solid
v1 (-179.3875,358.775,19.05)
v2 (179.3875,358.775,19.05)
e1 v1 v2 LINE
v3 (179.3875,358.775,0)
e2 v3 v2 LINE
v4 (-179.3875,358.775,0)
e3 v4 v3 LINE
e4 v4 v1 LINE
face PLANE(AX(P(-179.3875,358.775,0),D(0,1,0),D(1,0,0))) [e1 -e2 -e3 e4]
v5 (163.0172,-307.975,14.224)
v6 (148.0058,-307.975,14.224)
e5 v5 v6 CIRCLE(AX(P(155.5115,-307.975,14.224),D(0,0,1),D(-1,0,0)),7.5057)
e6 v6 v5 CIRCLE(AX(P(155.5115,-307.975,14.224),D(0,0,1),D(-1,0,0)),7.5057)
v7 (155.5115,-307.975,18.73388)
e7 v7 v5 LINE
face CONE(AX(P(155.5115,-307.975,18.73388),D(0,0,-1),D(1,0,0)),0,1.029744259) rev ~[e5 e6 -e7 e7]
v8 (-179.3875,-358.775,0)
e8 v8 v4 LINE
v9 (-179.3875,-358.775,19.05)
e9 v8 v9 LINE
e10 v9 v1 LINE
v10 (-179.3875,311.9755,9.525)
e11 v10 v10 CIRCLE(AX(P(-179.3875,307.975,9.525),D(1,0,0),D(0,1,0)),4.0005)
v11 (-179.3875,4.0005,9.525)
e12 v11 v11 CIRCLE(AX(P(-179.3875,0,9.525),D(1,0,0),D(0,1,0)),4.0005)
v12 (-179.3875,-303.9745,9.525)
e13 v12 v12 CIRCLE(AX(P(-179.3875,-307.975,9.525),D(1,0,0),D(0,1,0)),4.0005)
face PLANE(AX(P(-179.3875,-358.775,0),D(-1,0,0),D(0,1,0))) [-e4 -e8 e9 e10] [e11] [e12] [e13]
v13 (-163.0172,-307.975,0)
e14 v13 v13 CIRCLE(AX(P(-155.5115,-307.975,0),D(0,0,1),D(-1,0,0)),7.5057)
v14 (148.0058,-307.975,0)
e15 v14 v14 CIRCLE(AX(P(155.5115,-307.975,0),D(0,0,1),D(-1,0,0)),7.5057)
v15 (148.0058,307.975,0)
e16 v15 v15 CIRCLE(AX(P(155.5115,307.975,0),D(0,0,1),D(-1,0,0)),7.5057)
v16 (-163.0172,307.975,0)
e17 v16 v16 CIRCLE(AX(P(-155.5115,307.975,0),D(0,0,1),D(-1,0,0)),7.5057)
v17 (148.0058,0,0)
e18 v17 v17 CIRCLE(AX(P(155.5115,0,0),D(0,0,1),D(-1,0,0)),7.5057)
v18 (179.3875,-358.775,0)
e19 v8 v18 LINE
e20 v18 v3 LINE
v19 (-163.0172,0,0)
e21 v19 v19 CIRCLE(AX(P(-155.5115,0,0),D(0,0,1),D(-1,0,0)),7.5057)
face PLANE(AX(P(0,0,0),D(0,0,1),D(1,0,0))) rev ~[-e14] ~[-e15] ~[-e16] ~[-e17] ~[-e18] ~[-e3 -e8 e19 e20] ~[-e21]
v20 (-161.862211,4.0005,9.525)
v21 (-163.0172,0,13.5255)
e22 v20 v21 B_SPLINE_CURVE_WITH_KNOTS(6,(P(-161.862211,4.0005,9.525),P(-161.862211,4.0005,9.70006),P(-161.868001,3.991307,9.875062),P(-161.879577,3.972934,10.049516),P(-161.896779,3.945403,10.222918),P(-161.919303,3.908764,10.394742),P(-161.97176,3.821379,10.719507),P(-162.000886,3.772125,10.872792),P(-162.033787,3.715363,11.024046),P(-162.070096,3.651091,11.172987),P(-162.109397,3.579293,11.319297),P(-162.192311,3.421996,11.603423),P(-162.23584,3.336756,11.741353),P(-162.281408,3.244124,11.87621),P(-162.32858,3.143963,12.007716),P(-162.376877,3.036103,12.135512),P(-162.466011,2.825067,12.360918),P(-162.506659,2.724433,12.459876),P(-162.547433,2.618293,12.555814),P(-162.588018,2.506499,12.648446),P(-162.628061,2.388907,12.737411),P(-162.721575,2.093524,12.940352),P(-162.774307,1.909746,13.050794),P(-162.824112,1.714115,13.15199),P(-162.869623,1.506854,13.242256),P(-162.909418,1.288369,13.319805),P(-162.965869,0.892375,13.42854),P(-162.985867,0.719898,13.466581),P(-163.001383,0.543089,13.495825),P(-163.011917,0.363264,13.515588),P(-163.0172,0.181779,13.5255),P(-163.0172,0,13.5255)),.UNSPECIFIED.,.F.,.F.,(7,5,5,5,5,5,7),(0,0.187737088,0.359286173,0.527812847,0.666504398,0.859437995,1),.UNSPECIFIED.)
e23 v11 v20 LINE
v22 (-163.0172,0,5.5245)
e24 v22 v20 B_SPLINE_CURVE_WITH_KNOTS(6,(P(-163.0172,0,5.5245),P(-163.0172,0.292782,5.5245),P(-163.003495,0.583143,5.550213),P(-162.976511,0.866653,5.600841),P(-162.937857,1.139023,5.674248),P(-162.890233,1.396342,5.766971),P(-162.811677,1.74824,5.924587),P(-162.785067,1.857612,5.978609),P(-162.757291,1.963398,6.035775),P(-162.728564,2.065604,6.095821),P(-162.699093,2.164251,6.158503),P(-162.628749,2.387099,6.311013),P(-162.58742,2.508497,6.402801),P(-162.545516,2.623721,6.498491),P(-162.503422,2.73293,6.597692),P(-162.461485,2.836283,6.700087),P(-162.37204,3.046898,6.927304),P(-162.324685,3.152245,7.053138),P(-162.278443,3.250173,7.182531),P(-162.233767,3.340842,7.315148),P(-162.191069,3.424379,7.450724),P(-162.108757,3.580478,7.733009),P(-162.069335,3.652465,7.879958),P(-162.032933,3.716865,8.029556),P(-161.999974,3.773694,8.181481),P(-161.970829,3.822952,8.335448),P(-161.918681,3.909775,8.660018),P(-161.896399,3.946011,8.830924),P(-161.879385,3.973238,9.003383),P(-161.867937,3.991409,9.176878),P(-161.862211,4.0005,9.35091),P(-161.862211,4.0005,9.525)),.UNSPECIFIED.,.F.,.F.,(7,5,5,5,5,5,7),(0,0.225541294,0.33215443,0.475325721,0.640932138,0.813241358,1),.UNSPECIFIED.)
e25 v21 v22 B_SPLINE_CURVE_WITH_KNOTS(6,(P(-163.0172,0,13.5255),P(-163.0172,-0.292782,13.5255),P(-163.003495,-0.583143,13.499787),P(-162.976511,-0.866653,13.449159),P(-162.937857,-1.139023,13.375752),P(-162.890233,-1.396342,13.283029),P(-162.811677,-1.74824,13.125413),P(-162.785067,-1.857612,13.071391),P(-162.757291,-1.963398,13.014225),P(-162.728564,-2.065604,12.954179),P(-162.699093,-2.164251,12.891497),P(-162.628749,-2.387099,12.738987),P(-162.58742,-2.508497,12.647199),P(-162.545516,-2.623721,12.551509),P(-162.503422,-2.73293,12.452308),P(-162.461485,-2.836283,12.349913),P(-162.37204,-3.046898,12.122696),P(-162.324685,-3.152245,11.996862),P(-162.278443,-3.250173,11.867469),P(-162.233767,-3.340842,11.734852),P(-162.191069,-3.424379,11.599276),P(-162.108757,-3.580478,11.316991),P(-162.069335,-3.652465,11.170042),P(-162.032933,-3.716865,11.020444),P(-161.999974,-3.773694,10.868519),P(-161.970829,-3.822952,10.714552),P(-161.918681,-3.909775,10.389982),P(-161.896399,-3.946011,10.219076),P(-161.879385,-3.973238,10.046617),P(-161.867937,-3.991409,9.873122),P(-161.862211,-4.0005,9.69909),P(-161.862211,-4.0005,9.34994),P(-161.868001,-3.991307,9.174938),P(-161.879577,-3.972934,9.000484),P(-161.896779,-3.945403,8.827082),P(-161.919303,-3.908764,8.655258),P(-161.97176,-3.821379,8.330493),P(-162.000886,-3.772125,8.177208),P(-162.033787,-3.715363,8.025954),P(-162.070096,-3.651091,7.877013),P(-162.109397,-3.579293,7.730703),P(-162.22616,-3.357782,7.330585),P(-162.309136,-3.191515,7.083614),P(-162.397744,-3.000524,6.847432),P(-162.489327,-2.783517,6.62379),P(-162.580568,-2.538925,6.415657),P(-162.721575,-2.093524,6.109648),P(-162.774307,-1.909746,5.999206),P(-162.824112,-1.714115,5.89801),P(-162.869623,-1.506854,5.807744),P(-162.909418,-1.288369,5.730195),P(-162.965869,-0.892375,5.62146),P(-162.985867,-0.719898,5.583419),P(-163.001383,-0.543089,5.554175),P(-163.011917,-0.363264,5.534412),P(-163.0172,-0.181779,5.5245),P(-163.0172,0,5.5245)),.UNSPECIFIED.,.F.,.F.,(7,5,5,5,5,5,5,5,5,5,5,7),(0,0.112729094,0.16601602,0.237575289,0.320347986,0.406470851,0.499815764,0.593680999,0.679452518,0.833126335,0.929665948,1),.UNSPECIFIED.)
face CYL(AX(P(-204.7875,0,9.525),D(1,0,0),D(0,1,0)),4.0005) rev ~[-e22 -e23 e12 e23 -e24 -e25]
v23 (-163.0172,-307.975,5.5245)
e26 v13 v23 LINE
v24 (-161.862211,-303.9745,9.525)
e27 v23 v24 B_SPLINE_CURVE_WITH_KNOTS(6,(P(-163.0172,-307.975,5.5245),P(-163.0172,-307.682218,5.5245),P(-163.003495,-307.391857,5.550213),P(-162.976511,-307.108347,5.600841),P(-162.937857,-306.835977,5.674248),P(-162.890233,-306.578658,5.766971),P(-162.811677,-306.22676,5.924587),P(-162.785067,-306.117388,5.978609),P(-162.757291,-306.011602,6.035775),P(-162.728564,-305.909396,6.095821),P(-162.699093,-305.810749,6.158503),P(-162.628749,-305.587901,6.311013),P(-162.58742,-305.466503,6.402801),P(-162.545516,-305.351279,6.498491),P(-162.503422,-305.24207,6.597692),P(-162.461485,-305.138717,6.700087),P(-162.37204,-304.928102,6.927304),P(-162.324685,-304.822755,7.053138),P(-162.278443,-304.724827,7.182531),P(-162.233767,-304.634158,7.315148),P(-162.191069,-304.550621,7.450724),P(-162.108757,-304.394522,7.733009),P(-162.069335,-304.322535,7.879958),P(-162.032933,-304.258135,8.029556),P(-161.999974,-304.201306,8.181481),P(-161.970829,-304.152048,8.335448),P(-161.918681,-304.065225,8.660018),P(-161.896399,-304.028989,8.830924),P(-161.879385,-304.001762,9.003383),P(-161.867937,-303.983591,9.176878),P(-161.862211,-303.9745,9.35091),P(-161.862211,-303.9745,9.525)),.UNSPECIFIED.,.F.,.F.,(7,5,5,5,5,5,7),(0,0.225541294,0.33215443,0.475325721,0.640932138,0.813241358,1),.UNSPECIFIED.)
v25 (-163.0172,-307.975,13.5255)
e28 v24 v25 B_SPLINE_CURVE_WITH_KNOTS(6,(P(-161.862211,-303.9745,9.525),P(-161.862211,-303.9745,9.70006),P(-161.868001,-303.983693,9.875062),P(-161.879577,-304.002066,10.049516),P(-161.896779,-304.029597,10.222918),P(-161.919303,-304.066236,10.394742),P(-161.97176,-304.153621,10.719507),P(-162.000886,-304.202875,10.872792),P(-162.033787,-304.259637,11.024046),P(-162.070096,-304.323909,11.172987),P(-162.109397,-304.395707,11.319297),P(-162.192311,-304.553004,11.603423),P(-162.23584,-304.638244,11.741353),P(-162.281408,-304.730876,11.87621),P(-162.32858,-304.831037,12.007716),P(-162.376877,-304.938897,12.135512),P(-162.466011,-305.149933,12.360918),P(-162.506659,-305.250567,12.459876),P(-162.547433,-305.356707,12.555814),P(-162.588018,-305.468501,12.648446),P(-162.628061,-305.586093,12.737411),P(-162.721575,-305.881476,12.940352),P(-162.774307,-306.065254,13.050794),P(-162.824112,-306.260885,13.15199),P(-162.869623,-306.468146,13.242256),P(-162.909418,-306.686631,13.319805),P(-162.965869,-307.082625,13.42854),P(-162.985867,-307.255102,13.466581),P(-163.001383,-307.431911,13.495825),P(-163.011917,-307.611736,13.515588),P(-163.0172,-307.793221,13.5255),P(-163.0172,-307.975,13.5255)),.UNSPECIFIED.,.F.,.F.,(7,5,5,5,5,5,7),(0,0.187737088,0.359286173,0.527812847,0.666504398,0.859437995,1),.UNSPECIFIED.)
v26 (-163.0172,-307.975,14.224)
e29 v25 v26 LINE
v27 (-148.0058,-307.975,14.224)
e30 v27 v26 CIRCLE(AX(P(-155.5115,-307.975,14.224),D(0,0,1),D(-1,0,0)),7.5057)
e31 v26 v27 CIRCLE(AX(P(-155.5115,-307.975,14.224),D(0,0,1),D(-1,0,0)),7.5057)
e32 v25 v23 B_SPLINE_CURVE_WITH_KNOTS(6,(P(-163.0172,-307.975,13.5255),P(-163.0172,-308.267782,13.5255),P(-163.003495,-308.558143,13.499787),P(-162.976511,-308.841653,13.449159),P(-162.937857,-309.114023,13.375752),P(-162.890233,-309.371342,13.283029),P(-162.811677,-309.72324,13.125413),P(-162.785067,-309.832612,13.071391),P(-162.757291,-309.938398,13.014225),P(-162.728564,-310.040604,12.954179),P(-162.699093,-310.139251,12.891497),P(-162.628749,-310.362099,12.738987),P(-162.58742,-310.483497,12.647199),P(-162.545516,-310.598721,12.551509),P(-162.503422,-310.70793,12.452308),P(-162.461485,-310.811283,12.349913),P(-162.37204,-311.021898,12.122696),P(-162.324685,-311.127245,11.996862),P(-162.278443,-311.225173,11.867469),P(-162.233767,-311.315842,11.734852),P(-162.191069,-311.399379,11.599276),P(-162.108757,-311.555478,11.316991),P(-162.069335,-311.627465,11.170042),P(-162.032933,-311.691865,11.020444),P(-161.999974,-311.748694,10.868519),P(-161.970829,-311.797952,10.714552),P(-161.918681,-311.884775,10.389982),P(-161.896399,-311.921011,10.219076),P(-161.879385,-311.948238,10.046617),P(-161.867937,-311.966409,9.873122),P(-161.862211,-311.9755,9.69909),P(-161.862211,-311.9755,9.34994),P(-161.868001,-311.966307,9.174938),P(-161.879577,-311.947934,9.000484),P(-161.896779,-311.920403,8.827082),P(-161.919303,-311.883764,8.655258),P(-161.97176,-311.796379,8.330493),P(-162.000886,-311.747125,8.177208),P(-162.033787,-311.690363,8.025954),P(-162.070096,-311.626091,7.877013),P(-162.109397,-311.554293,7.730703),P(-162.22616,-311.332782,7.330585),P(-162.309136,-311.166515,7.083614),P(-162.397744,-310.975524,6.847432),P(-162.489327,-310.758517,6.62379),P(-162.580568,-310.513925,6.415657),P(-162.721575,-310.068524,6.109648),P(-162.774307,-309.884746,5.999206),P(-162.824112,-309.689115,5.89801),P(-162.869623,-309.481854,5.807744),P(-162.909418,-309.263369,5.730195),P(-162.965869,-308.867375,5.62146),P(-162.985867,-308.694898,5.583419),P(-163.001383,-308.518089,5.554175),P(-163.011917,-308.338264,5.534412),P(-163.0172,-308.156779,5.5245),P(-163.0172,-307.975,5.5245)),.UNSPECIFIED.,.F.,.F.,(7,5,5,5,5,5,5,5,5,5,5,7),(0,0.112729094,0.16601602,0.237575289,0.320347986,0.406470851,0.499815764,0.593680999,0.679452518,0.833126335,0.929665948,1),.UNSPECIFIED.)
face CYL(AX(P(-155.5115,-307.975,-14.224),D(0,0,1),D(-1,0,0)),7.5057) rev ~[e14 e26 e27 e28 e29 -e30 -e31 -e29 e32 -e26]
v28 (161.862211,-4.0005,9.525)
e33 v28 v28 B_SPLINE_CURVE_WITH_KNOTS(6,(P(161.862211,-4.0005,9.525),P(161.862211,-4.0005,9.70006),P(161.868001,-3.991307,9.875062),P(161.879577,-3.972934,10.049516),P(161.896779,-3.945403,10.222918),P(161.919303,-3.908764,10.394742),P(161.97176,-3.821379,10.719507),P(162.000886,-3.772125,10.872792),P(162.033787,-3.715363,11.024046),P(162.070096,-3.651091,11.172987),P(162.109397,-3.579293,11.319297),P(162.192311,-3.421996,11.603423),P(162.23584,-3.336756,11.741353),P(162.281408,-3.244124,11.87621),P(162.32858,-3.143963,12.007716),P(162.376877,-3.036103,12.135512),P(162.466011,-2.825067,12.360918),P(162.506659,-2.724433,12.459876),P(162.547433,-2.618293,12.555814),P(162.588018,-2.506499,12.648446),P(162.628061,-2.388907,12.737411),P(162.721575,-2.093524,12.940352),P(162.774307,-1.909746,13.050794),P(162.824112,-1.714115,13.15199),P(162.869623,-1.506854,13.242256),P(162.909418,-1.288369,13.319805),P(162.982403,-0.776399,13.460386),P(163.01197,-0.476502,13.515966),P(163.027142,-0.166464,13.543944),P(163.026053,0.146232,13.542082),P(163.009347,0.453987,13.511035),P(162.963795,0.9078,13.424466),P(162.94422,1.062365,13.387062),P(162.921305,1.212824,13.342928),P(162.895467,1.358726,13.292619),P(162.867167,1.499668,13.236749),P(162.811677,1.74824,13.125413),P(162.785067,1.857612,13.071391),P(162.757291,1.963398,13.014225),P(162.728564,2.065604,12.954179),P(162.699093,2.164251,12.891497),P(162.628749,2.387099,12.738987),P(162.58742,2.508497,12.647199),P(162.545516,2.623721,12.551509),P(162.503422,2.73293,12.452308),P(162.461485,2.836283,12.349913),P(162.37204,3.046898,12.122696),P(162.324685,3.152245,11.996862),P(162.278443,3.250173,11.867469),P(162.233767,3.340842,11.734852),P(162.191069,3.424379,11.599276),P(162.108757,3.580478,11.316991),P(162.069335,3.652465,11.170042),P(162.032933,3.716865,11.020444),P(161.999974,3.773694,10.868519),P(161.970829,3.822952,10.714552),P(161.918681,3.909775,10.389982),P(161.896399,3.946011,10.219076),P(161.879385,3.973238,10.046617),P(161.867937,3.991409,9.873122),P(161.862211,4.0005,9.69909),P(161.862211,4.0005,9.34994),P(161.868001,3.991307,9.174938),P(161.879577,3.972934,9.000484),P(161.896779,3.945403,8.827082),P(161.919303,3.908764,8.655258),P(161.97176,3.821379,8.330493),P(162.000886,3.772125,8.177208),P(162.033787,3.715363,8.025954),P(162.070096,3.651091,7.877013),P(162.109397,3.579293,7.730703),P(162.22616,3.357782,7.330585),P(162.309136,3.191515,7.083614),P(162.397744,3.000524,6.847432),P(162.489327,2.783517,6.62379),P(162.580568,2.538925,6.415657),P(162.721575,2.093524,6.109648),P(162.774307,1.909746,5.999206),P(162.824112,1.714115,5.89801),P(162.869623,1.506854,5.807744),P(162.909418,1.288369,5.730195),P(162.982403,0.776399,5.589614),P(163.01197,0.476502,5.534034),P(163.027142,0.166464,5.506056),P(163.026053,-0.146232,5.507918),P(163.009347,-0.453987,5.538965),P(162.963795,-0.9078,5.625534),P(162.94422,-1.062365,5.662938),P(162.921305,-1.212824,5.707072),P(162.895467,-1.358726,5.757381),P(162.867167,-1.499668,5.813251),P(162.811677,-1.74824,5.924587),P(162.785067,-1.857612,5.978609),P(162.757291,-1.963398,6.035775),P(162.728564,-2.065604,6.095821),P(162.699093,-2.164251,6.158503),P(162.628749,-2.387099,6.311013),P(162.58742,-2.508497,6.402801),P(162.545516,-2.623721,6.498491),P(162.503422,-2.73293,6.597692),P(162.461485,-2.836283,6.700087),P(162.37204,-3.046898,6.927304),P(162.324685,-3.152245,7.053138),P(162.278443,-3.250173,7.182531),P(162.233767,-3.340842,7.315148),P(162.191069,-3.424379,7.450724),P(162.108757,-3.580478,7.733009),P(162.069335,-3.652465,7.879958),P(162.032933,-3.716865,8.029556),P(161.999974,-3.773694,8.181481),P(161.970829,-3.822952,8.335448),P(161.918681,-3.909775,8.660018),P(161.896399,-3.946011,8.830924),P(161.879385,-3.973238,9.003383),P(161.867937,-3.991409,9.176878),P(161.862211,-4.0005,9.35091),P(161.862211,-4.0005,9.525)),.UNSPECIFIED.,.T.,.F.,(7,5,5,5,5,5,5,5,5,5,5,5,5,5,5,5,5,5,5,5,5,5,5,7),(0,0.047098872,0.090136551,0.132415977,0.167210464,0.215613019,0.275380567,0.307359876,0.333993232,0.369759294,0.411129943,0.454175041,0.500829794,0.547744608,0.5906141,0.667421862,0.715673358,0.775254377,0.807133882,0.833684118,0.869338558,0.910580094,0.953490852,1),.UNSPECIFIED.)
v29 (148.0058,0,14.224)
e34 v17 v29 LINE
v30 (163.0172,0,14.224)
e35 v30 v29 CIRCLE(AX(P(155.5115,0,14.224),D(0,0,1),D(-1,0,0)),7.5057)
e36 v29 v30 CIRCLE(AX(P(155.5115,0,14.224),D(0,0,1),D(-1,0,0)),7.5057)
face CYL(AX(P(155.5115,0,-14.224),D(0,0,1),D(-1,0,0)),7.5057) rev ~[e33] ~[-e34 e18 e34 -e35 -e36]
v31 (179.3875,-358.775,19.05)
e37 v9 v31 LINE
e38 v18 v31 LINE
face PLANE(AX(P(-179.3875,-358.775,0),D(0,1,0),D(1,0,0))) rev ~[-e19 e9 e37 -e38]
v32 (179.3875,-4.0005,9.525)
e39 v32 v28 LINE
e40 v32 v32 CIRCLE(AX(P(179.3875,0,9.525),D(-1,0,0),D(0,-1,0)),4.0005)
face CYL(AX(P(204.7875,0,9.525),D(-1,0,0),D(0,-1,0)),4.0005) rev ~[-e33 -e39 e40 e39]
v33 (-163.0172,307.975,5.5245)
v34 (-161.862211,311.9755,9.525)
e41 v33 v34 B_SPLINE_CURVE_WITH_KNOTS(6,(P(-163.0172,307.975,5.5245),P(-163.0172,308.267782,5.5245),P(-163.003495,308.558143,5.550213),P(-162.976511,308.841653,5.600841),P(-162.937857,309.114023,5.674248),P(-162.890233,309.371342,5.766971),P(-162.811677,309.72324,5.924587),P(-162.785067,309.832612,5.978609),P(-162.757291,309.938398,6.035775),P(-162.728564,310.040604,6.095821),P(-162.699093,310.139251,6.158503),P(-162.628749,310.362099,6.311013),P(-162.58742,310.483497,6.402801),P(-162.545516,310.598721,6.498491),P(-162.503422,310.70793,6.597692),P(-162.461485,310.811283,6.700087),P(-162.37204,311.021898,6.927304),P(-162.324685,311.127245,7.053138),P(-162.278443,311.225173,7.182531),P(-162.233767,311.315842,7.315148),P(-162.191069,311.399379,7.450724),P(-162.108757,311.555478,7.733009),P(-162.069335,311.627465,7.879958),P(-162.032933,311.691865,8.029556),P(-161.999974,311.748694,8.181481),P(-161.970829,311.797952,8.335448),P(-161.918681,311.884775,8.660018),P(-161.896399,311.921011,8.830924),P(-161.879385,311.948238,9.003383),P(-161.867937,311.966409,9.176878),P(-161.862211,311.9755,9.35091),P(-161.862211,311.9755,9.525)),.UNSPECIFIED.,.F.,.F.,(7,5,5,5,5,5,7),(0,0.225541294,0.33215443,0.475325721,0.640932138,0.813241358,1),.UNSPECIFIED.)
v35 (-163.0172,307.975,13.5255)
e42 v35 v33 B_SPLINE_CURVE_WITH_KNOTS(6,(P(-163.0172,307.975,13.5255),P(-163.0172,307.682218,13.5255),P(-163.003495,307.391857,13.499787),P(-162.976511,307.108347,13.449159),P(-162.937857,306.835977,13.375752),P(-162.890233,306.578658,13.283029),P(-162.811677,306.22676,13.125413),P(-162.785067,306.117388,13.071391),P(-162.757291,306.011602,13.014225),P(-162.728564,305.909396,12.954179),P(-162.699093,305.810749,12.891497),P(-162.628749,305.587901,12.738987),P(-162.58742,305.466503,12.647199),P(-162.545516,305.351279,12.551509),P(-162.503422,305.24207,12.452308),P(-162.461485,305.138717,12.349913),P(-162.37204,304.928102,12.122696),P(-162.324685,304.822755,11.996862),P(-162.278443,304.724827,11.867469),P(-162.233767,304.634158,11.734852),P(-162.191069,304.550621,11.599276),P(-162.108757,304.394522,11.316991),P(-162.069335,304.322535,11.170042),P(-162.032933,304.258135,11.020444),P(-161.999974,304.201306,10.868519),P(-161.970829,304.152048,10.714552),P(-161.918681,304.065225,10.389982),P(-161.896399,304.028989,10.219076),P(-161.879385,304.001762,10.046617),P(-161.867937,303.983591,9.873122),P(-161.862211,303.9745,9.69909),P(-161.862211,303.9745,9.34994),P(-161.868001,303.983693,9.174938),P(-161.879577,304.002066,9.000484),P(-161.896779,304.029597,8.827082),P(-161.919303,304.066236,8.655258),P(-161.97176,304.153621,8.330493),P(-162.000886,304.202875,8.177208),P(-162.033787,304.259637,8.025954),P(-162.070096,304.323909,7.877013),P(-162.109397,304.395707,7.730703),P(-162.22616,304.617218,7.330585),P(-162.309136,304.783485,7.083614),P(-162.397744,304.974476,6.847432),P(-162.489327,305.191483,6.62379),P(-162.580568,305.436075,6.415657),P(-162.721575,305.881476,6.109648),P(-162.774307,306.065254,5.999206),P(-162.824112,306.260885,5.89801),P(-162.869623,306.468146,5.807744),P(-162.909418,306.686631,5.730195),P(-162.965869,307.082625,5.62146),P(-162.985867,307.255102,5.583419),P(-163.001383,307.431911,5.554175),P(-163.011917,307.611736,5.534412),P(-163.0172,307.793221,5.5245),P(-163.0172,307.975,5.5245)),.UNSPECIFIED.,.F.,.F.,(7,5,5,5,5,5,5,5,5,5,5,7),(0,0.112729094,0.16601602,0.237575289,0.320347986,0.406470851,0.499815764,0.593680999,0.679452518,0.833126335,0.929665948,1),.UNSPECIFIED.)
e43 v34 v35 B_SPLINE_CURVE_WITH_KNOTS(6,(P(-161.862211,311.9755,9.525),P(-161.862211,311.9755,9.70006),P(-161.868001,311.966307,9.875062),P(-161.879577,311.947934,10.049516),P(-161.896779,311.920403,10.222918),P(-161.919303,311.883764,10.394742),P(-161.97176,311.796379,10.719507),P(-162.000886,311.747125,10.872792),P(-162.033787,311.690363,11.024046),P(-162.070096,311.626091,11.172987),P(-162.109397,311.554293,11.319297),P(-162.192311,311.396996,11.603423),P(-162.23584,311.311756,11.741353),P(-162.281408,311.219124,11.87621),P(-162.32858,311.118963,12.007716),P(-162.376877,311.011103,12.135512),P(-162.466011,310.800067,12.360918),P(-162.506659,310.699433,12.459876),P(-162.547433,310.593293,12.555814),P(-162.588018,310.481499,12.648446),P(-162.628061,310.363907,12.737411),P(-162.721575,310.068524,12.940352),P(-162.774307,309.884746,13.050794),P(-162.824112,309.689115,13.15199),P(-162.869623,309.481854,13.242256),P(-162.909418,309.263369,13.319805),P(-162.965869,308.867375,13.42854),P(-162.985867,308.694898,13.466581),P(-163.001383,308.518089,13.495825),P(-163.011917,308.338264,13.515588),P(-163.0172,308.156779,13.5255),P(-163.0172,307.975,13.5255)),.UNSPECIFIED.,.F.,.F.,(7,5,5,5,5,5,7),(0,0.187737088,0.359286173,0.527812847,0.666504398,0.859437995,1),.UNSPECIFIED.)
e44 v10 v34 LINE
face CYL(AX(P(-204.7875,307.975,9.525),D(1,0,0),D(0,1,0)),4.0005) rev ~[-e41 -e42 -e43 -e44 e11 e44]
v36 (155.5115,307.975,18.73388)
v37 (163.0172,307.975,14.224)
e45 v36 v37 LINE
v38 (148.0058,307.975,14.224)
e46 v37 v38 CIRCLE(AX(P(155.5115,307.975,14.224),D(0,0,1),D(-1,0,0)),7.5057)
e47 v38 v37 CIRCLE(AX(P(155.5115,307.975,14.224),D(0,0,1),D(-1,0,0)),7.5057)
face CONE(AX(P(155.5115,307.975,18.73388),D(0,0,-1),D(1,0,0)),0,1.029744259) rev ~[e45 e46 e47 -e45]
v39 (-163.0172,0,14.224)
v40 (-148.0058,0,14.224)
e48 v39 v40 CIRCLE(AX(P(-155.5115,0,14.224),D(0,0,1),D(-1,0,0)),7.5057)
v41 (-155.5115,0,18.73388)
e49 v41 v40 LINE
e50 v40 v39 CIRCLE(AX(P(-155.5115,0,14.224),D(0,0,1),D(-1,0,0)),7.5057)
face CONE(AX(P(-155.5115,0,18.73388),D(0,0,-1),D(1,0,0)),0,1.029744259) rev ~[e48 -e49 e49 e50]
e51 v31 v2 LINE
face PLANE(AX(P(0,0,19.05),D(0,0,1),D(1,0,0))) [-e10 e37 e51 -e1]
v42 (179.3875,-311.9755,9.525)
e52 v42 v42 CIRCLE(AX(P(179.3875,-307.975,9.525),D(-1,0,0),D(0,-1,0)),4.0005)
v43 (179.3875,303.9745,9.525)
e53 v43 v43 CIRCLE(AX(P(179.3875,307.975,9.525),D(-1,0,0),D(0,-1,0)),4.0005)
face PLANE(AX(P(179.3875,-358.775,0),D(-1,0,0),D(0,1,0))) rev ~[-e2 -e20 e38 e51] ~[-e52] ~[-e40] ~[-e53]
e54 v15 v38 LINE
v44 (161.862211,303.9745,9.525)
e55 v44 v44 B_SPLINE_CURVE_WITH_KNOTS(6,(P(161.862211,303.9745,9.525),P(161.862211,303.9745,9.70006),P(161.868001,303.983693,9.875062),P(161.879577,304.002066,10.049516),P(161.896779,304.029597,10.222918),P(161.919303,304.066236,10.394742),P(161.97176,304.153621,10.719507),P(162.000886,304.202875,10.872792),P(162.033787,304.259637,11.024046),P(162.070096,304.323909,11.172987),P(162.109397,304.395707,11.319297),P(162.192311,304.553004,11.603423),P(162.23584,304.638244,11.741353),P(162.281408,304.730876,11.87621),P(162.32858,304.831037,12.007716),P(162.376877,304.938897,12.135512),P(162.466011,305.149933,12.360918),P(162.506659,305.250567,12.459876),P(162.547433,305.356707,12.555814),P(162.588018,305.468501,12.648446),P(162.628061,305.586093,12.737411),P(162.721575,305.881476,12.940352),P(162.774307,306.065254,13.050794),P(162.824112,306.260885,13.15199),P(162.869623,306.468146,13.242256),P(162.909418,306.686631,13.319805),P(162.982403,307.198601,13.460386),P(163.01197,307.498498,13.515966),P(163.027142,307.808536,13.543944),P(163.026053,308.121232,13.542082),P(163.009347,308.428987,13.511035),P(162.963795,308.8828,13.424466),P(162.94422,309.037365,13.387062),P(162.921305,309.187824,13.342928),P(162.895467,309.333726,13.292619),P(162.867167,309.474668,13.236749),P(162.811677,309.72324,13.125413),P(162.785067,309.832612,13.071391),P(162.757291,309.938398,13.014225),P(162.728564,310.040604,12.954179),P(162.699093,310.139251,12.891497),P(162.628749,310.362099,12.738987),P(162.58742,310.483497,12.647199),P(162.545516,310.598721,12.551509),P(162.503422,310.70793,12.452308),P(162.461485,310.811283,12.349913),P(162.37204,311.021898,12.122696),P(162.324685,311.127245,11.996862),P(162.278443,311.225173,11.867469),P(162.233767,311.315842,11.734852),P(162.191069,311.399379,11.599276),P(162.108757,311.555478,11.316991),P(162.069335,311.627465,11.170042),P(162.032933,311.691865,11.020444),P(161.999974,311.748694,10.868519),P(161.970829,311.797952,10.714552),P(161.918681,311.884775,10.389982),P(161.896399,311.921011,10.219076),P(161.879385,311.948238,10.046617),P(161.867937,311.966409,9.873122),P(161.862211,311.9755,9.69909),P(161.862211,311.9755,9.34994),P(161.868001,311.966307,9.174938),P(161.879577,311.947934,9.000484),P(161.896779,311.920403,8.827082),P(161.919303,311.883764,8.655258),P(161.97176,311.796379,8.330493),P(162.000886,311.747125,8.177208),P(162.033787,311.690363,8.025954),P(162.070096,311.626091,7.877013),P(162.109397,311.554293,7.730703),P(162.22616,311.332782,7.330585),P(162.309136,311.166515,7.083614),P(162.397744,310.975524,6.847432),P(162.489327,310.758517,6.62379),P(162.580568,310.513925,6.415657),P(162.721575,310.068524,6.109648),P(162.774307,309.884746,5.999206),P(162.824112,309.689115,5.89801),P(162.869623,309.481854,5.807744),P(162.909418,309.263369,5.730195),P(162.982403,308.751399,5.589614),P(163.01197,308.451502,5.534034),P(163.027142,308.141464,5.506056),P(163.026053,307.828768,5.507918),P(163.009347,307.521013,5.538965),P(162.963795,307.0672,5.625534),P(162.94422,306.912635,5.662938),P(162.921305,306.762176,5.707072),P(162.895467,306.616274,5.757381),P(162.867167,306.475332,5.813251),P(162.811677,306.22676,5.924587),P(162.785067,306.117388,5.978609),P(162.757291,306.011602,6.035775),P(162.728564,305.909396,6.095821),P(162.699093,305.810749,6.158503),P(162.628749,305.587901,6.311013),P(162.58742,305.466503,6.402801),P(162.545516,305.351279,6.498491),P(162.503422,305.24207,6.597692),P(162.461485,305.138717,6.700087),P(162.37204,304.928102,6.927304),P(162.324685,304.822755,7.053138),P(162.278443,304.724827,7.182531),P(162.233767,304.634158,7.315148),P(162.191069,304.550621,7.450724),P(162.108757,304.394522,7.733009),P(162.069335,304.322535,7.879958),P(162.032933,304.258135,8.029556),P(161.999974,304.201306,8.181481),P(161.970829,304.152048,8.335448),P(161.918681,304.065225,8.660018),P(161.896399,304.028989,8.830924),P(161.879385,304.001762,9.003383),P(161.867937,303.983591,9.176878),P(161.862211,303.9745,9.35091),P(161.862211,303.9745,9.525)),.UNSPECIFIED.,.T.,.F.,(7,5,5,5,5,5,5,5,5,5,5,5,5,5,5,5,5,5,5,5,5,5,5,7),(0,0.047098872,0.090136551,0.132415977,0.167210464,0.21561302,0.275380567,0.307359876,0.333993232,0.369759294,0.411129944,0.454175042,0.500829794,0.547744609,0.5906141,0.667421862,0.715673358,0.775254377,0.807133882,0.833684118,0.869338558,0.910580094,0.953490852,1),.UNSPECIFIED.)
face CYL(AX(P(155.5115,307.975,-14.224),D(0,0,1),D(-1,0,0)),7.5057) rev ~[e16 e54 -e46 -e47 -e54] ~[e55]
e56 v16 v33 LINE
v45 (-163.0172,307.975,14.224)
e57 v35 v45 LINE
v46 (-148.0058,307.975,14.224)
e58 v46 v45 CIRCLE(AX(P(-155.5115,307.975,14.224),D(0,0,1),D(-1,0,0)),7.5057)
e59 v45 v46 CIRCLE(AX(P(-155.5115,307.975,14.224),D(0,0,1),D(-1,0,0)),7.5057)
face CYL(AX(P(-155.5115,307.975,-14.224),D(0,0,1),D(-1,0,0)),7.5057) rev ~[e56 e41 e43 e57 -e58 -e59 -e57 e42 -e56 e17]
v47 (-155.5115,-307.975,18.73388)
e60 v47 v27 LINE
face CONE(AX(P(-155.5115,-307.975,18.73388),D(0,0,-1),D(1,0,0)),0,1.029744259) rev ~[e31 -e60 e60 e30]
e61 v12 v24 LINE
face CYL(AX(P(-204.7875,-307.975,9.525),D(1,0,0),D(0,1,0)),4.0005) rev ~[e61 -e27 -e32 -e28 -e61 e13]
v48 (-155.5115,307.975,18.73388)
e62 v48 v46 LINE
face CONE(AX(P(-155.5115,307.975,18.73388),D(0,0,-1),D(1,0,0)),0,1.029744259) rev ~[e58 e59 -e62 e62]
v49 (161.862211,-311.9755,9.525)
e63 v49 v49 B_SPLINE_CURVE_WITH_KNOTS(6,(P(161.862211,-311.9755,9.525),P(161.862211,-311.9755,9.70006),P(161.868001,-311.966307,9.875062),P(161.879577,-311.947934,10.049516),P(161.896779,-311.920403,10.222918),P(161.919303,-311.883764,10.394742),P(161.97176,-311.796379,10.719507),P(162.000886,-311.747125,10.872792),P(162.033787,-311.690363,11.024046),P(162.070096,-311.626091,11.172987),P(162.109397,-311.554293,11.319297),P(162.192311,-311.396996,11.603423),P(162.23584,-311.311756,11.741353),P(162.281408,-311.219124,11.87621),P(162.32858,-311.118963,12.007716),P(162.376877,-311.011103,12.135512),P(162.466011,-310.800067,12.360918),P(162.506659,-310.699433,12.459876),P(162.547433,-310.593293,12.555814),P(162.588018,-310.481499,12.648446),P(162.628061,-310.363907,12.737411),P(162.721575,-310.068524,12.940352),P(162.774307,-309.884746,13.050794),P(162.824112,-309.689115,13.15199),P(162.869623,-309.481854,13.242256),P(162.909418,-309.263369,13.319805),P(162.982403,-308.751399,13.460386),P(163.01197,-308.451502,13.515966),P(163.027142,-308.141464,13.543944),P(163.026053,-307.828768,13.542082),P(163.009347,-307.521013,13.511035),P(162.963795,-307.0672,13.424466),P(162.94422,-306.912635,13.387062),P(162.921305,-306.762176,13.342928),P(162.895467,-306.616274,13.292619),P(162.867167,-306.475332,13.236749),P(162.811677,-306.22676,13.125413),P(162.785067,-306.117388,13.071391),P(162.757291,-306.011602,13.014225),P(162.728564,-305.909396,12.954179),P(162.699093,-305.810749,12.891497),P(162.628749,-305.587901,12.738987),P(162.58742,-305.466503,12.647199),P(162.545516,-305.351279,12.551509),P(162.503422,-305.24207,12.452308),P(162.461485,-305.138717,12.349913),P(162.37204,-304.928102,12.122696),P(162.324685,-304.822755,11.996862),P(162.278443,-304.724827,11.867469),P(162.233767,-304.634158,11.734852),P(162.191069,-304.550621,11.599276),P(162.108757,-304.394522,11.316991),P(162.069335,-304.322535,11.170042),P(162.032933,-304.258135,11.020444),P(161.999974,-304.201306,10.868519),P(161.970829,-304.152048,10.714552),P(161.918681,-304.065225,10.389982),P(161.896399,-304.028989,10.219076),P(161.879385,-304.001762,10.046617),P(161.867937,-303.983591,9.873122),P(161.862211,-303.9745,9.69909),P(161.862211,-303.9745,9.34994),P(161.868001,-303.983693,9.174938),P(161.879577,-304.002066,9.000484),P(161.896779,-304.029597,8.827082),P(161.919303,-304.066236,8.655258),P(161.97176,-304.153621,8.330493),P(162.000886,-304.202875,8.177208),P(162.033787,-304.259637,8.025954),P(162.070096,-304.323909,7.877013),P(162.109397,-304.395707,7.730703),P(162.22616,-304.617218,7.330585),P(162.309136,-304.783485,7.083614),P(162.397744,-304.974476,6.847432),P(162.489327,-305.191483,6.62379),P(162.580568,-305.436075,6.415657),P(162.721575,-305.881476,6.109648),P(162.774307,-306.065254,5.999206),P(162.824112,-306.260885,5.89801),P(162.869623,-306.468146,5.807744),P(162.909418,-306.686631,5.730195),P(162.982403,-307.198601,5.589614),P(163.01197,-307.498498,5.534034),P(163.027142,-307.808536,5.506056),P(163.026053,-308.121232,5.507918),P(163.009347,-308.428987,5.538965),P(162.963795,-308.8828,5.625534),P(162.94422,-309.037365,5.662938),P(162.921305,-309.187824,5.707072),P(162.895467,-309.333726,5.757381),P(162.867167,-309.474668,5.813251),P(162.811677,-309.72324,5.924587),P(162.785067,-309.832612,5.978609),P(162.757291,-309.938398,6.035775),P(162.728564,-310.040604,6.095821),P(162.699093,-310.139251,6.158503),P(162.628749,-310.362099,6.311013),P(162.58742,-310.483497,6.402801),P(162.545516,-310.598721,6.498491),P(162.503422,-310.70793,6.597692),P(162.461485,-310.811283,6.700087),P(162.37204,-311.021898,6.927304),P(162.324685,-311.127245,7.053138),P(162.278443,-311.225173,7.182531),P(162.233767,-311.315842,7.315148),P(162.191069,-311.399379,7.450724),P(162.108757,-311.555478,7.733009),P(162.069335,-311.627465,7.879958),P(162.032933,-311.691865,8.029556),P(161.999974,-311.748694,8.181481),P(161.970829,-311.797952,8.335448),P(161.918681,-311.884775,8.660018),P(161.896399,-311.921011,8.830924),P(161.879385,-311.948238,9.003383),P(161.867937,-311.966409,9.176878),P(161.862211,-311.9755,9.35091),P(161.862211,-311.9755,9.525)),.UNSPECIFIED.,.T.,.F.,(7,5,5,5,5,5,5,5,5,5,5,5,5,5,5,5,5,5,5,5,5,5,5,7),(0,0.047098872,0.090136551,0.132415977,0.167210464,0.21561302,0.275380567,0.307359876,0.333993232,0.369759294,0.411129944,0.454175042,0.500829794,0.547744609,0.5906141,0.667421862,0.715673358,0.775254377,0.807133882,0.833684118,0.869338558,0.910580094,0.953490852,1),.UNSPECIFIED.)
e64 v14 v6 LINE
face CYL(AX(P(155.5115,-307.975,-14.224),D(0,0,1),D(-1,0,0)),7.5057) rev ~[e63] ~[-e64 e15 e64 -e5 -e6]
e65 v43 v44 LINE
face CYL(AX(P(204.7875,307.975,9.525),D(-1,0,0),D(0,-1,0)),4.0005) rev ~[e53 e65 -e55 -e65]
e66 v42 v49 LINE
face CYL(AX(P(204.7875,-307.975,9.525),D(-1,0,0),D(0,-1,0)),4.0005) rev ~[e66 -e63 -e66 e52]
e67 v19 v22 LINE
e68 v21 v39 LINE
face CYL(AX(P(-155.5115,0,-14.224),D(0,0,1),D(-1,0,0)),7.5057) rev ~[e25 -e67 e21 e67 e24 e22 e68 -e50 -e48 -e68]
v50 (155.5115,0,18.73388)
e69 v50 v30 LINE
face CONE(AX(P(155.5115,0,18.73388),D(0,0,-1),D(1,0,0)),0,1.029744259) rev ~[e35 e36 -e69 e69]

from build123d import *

# Parameters (mm, degrees)
F0_W     = 358.775
F0_H     = 717.55
F1_DEPTH = 19.05
F3_D     = 8.001
F3_DEPTH = 25.4
F3_TIP   = 2.4037429064
F5_D     = 8.001
F5_DEPTH = 25.4
F5_TIP   = 2.4037429064
F7_D     = 15.0114
F7_DEPTH = 14.224
F7_TIP   = 4.5098795482


with BuildPart() as f1:
    # F0 (on Top) → F1 (new body)
    with BuildSketch(Plane.XY):
        Rectangle(F0_W, F0_H)
    extrude(amount=F1_DEPTH)

    # F3
    with Locations(Plane(origin=(-179.3875, 0, 0), x_dir=(0, -1, 0), z_dir=(-1, 0, 0))):
        with Locations((-307.975, 9.525), (0, 9.525), (307.975, 9.525)):
            Hole(F3_D / 2, depth=F3_DEPTH)
            with Locations((0, 0, -(F3_DEPTH + F3_TIP / 2))):  # 118° drill point
                Cone(0, F3_D / 2, F3_TIP, mode=Mode.SUBTRACT)

    # F5
    with Locations(Plane.YZ.offset(179.3875)):
        with Locations((-307.975, 9.525), (0, 9.525), (307.975, 9.525)):
            Hole(F5_D / 2, depth=F5_DEPTH)
            with Locations((0, 0, -(F5_DEPTH + F5_TIP / 2))):  # 118° drill point
                Cone(0, F5_D / 2, F5_TIP, mode=Mode.SUBTRACT)

    # F7
    with Locations(Plane(origin=(0, 0, 0), x_dir=(1, 0, 0), z_dir=(0, 0, -1))):
        with Locations((-155.5115, 307.975), (155.5115, 307.975), (155.5115, 0), (-155.5115, 0), (-155.5115, -307.975), (155.5115, -307.975)):
            Hole(F7_D / 2, depth=F7_DEPTH)
            with Locations((0, 0, -(F7_DEPTH + F7_TIP / 2))):  # 118° drill point
                Cone(0, F7_D / 2, F7_TIP, mode=Mode.SUBTRACT)


solid = f1.part
